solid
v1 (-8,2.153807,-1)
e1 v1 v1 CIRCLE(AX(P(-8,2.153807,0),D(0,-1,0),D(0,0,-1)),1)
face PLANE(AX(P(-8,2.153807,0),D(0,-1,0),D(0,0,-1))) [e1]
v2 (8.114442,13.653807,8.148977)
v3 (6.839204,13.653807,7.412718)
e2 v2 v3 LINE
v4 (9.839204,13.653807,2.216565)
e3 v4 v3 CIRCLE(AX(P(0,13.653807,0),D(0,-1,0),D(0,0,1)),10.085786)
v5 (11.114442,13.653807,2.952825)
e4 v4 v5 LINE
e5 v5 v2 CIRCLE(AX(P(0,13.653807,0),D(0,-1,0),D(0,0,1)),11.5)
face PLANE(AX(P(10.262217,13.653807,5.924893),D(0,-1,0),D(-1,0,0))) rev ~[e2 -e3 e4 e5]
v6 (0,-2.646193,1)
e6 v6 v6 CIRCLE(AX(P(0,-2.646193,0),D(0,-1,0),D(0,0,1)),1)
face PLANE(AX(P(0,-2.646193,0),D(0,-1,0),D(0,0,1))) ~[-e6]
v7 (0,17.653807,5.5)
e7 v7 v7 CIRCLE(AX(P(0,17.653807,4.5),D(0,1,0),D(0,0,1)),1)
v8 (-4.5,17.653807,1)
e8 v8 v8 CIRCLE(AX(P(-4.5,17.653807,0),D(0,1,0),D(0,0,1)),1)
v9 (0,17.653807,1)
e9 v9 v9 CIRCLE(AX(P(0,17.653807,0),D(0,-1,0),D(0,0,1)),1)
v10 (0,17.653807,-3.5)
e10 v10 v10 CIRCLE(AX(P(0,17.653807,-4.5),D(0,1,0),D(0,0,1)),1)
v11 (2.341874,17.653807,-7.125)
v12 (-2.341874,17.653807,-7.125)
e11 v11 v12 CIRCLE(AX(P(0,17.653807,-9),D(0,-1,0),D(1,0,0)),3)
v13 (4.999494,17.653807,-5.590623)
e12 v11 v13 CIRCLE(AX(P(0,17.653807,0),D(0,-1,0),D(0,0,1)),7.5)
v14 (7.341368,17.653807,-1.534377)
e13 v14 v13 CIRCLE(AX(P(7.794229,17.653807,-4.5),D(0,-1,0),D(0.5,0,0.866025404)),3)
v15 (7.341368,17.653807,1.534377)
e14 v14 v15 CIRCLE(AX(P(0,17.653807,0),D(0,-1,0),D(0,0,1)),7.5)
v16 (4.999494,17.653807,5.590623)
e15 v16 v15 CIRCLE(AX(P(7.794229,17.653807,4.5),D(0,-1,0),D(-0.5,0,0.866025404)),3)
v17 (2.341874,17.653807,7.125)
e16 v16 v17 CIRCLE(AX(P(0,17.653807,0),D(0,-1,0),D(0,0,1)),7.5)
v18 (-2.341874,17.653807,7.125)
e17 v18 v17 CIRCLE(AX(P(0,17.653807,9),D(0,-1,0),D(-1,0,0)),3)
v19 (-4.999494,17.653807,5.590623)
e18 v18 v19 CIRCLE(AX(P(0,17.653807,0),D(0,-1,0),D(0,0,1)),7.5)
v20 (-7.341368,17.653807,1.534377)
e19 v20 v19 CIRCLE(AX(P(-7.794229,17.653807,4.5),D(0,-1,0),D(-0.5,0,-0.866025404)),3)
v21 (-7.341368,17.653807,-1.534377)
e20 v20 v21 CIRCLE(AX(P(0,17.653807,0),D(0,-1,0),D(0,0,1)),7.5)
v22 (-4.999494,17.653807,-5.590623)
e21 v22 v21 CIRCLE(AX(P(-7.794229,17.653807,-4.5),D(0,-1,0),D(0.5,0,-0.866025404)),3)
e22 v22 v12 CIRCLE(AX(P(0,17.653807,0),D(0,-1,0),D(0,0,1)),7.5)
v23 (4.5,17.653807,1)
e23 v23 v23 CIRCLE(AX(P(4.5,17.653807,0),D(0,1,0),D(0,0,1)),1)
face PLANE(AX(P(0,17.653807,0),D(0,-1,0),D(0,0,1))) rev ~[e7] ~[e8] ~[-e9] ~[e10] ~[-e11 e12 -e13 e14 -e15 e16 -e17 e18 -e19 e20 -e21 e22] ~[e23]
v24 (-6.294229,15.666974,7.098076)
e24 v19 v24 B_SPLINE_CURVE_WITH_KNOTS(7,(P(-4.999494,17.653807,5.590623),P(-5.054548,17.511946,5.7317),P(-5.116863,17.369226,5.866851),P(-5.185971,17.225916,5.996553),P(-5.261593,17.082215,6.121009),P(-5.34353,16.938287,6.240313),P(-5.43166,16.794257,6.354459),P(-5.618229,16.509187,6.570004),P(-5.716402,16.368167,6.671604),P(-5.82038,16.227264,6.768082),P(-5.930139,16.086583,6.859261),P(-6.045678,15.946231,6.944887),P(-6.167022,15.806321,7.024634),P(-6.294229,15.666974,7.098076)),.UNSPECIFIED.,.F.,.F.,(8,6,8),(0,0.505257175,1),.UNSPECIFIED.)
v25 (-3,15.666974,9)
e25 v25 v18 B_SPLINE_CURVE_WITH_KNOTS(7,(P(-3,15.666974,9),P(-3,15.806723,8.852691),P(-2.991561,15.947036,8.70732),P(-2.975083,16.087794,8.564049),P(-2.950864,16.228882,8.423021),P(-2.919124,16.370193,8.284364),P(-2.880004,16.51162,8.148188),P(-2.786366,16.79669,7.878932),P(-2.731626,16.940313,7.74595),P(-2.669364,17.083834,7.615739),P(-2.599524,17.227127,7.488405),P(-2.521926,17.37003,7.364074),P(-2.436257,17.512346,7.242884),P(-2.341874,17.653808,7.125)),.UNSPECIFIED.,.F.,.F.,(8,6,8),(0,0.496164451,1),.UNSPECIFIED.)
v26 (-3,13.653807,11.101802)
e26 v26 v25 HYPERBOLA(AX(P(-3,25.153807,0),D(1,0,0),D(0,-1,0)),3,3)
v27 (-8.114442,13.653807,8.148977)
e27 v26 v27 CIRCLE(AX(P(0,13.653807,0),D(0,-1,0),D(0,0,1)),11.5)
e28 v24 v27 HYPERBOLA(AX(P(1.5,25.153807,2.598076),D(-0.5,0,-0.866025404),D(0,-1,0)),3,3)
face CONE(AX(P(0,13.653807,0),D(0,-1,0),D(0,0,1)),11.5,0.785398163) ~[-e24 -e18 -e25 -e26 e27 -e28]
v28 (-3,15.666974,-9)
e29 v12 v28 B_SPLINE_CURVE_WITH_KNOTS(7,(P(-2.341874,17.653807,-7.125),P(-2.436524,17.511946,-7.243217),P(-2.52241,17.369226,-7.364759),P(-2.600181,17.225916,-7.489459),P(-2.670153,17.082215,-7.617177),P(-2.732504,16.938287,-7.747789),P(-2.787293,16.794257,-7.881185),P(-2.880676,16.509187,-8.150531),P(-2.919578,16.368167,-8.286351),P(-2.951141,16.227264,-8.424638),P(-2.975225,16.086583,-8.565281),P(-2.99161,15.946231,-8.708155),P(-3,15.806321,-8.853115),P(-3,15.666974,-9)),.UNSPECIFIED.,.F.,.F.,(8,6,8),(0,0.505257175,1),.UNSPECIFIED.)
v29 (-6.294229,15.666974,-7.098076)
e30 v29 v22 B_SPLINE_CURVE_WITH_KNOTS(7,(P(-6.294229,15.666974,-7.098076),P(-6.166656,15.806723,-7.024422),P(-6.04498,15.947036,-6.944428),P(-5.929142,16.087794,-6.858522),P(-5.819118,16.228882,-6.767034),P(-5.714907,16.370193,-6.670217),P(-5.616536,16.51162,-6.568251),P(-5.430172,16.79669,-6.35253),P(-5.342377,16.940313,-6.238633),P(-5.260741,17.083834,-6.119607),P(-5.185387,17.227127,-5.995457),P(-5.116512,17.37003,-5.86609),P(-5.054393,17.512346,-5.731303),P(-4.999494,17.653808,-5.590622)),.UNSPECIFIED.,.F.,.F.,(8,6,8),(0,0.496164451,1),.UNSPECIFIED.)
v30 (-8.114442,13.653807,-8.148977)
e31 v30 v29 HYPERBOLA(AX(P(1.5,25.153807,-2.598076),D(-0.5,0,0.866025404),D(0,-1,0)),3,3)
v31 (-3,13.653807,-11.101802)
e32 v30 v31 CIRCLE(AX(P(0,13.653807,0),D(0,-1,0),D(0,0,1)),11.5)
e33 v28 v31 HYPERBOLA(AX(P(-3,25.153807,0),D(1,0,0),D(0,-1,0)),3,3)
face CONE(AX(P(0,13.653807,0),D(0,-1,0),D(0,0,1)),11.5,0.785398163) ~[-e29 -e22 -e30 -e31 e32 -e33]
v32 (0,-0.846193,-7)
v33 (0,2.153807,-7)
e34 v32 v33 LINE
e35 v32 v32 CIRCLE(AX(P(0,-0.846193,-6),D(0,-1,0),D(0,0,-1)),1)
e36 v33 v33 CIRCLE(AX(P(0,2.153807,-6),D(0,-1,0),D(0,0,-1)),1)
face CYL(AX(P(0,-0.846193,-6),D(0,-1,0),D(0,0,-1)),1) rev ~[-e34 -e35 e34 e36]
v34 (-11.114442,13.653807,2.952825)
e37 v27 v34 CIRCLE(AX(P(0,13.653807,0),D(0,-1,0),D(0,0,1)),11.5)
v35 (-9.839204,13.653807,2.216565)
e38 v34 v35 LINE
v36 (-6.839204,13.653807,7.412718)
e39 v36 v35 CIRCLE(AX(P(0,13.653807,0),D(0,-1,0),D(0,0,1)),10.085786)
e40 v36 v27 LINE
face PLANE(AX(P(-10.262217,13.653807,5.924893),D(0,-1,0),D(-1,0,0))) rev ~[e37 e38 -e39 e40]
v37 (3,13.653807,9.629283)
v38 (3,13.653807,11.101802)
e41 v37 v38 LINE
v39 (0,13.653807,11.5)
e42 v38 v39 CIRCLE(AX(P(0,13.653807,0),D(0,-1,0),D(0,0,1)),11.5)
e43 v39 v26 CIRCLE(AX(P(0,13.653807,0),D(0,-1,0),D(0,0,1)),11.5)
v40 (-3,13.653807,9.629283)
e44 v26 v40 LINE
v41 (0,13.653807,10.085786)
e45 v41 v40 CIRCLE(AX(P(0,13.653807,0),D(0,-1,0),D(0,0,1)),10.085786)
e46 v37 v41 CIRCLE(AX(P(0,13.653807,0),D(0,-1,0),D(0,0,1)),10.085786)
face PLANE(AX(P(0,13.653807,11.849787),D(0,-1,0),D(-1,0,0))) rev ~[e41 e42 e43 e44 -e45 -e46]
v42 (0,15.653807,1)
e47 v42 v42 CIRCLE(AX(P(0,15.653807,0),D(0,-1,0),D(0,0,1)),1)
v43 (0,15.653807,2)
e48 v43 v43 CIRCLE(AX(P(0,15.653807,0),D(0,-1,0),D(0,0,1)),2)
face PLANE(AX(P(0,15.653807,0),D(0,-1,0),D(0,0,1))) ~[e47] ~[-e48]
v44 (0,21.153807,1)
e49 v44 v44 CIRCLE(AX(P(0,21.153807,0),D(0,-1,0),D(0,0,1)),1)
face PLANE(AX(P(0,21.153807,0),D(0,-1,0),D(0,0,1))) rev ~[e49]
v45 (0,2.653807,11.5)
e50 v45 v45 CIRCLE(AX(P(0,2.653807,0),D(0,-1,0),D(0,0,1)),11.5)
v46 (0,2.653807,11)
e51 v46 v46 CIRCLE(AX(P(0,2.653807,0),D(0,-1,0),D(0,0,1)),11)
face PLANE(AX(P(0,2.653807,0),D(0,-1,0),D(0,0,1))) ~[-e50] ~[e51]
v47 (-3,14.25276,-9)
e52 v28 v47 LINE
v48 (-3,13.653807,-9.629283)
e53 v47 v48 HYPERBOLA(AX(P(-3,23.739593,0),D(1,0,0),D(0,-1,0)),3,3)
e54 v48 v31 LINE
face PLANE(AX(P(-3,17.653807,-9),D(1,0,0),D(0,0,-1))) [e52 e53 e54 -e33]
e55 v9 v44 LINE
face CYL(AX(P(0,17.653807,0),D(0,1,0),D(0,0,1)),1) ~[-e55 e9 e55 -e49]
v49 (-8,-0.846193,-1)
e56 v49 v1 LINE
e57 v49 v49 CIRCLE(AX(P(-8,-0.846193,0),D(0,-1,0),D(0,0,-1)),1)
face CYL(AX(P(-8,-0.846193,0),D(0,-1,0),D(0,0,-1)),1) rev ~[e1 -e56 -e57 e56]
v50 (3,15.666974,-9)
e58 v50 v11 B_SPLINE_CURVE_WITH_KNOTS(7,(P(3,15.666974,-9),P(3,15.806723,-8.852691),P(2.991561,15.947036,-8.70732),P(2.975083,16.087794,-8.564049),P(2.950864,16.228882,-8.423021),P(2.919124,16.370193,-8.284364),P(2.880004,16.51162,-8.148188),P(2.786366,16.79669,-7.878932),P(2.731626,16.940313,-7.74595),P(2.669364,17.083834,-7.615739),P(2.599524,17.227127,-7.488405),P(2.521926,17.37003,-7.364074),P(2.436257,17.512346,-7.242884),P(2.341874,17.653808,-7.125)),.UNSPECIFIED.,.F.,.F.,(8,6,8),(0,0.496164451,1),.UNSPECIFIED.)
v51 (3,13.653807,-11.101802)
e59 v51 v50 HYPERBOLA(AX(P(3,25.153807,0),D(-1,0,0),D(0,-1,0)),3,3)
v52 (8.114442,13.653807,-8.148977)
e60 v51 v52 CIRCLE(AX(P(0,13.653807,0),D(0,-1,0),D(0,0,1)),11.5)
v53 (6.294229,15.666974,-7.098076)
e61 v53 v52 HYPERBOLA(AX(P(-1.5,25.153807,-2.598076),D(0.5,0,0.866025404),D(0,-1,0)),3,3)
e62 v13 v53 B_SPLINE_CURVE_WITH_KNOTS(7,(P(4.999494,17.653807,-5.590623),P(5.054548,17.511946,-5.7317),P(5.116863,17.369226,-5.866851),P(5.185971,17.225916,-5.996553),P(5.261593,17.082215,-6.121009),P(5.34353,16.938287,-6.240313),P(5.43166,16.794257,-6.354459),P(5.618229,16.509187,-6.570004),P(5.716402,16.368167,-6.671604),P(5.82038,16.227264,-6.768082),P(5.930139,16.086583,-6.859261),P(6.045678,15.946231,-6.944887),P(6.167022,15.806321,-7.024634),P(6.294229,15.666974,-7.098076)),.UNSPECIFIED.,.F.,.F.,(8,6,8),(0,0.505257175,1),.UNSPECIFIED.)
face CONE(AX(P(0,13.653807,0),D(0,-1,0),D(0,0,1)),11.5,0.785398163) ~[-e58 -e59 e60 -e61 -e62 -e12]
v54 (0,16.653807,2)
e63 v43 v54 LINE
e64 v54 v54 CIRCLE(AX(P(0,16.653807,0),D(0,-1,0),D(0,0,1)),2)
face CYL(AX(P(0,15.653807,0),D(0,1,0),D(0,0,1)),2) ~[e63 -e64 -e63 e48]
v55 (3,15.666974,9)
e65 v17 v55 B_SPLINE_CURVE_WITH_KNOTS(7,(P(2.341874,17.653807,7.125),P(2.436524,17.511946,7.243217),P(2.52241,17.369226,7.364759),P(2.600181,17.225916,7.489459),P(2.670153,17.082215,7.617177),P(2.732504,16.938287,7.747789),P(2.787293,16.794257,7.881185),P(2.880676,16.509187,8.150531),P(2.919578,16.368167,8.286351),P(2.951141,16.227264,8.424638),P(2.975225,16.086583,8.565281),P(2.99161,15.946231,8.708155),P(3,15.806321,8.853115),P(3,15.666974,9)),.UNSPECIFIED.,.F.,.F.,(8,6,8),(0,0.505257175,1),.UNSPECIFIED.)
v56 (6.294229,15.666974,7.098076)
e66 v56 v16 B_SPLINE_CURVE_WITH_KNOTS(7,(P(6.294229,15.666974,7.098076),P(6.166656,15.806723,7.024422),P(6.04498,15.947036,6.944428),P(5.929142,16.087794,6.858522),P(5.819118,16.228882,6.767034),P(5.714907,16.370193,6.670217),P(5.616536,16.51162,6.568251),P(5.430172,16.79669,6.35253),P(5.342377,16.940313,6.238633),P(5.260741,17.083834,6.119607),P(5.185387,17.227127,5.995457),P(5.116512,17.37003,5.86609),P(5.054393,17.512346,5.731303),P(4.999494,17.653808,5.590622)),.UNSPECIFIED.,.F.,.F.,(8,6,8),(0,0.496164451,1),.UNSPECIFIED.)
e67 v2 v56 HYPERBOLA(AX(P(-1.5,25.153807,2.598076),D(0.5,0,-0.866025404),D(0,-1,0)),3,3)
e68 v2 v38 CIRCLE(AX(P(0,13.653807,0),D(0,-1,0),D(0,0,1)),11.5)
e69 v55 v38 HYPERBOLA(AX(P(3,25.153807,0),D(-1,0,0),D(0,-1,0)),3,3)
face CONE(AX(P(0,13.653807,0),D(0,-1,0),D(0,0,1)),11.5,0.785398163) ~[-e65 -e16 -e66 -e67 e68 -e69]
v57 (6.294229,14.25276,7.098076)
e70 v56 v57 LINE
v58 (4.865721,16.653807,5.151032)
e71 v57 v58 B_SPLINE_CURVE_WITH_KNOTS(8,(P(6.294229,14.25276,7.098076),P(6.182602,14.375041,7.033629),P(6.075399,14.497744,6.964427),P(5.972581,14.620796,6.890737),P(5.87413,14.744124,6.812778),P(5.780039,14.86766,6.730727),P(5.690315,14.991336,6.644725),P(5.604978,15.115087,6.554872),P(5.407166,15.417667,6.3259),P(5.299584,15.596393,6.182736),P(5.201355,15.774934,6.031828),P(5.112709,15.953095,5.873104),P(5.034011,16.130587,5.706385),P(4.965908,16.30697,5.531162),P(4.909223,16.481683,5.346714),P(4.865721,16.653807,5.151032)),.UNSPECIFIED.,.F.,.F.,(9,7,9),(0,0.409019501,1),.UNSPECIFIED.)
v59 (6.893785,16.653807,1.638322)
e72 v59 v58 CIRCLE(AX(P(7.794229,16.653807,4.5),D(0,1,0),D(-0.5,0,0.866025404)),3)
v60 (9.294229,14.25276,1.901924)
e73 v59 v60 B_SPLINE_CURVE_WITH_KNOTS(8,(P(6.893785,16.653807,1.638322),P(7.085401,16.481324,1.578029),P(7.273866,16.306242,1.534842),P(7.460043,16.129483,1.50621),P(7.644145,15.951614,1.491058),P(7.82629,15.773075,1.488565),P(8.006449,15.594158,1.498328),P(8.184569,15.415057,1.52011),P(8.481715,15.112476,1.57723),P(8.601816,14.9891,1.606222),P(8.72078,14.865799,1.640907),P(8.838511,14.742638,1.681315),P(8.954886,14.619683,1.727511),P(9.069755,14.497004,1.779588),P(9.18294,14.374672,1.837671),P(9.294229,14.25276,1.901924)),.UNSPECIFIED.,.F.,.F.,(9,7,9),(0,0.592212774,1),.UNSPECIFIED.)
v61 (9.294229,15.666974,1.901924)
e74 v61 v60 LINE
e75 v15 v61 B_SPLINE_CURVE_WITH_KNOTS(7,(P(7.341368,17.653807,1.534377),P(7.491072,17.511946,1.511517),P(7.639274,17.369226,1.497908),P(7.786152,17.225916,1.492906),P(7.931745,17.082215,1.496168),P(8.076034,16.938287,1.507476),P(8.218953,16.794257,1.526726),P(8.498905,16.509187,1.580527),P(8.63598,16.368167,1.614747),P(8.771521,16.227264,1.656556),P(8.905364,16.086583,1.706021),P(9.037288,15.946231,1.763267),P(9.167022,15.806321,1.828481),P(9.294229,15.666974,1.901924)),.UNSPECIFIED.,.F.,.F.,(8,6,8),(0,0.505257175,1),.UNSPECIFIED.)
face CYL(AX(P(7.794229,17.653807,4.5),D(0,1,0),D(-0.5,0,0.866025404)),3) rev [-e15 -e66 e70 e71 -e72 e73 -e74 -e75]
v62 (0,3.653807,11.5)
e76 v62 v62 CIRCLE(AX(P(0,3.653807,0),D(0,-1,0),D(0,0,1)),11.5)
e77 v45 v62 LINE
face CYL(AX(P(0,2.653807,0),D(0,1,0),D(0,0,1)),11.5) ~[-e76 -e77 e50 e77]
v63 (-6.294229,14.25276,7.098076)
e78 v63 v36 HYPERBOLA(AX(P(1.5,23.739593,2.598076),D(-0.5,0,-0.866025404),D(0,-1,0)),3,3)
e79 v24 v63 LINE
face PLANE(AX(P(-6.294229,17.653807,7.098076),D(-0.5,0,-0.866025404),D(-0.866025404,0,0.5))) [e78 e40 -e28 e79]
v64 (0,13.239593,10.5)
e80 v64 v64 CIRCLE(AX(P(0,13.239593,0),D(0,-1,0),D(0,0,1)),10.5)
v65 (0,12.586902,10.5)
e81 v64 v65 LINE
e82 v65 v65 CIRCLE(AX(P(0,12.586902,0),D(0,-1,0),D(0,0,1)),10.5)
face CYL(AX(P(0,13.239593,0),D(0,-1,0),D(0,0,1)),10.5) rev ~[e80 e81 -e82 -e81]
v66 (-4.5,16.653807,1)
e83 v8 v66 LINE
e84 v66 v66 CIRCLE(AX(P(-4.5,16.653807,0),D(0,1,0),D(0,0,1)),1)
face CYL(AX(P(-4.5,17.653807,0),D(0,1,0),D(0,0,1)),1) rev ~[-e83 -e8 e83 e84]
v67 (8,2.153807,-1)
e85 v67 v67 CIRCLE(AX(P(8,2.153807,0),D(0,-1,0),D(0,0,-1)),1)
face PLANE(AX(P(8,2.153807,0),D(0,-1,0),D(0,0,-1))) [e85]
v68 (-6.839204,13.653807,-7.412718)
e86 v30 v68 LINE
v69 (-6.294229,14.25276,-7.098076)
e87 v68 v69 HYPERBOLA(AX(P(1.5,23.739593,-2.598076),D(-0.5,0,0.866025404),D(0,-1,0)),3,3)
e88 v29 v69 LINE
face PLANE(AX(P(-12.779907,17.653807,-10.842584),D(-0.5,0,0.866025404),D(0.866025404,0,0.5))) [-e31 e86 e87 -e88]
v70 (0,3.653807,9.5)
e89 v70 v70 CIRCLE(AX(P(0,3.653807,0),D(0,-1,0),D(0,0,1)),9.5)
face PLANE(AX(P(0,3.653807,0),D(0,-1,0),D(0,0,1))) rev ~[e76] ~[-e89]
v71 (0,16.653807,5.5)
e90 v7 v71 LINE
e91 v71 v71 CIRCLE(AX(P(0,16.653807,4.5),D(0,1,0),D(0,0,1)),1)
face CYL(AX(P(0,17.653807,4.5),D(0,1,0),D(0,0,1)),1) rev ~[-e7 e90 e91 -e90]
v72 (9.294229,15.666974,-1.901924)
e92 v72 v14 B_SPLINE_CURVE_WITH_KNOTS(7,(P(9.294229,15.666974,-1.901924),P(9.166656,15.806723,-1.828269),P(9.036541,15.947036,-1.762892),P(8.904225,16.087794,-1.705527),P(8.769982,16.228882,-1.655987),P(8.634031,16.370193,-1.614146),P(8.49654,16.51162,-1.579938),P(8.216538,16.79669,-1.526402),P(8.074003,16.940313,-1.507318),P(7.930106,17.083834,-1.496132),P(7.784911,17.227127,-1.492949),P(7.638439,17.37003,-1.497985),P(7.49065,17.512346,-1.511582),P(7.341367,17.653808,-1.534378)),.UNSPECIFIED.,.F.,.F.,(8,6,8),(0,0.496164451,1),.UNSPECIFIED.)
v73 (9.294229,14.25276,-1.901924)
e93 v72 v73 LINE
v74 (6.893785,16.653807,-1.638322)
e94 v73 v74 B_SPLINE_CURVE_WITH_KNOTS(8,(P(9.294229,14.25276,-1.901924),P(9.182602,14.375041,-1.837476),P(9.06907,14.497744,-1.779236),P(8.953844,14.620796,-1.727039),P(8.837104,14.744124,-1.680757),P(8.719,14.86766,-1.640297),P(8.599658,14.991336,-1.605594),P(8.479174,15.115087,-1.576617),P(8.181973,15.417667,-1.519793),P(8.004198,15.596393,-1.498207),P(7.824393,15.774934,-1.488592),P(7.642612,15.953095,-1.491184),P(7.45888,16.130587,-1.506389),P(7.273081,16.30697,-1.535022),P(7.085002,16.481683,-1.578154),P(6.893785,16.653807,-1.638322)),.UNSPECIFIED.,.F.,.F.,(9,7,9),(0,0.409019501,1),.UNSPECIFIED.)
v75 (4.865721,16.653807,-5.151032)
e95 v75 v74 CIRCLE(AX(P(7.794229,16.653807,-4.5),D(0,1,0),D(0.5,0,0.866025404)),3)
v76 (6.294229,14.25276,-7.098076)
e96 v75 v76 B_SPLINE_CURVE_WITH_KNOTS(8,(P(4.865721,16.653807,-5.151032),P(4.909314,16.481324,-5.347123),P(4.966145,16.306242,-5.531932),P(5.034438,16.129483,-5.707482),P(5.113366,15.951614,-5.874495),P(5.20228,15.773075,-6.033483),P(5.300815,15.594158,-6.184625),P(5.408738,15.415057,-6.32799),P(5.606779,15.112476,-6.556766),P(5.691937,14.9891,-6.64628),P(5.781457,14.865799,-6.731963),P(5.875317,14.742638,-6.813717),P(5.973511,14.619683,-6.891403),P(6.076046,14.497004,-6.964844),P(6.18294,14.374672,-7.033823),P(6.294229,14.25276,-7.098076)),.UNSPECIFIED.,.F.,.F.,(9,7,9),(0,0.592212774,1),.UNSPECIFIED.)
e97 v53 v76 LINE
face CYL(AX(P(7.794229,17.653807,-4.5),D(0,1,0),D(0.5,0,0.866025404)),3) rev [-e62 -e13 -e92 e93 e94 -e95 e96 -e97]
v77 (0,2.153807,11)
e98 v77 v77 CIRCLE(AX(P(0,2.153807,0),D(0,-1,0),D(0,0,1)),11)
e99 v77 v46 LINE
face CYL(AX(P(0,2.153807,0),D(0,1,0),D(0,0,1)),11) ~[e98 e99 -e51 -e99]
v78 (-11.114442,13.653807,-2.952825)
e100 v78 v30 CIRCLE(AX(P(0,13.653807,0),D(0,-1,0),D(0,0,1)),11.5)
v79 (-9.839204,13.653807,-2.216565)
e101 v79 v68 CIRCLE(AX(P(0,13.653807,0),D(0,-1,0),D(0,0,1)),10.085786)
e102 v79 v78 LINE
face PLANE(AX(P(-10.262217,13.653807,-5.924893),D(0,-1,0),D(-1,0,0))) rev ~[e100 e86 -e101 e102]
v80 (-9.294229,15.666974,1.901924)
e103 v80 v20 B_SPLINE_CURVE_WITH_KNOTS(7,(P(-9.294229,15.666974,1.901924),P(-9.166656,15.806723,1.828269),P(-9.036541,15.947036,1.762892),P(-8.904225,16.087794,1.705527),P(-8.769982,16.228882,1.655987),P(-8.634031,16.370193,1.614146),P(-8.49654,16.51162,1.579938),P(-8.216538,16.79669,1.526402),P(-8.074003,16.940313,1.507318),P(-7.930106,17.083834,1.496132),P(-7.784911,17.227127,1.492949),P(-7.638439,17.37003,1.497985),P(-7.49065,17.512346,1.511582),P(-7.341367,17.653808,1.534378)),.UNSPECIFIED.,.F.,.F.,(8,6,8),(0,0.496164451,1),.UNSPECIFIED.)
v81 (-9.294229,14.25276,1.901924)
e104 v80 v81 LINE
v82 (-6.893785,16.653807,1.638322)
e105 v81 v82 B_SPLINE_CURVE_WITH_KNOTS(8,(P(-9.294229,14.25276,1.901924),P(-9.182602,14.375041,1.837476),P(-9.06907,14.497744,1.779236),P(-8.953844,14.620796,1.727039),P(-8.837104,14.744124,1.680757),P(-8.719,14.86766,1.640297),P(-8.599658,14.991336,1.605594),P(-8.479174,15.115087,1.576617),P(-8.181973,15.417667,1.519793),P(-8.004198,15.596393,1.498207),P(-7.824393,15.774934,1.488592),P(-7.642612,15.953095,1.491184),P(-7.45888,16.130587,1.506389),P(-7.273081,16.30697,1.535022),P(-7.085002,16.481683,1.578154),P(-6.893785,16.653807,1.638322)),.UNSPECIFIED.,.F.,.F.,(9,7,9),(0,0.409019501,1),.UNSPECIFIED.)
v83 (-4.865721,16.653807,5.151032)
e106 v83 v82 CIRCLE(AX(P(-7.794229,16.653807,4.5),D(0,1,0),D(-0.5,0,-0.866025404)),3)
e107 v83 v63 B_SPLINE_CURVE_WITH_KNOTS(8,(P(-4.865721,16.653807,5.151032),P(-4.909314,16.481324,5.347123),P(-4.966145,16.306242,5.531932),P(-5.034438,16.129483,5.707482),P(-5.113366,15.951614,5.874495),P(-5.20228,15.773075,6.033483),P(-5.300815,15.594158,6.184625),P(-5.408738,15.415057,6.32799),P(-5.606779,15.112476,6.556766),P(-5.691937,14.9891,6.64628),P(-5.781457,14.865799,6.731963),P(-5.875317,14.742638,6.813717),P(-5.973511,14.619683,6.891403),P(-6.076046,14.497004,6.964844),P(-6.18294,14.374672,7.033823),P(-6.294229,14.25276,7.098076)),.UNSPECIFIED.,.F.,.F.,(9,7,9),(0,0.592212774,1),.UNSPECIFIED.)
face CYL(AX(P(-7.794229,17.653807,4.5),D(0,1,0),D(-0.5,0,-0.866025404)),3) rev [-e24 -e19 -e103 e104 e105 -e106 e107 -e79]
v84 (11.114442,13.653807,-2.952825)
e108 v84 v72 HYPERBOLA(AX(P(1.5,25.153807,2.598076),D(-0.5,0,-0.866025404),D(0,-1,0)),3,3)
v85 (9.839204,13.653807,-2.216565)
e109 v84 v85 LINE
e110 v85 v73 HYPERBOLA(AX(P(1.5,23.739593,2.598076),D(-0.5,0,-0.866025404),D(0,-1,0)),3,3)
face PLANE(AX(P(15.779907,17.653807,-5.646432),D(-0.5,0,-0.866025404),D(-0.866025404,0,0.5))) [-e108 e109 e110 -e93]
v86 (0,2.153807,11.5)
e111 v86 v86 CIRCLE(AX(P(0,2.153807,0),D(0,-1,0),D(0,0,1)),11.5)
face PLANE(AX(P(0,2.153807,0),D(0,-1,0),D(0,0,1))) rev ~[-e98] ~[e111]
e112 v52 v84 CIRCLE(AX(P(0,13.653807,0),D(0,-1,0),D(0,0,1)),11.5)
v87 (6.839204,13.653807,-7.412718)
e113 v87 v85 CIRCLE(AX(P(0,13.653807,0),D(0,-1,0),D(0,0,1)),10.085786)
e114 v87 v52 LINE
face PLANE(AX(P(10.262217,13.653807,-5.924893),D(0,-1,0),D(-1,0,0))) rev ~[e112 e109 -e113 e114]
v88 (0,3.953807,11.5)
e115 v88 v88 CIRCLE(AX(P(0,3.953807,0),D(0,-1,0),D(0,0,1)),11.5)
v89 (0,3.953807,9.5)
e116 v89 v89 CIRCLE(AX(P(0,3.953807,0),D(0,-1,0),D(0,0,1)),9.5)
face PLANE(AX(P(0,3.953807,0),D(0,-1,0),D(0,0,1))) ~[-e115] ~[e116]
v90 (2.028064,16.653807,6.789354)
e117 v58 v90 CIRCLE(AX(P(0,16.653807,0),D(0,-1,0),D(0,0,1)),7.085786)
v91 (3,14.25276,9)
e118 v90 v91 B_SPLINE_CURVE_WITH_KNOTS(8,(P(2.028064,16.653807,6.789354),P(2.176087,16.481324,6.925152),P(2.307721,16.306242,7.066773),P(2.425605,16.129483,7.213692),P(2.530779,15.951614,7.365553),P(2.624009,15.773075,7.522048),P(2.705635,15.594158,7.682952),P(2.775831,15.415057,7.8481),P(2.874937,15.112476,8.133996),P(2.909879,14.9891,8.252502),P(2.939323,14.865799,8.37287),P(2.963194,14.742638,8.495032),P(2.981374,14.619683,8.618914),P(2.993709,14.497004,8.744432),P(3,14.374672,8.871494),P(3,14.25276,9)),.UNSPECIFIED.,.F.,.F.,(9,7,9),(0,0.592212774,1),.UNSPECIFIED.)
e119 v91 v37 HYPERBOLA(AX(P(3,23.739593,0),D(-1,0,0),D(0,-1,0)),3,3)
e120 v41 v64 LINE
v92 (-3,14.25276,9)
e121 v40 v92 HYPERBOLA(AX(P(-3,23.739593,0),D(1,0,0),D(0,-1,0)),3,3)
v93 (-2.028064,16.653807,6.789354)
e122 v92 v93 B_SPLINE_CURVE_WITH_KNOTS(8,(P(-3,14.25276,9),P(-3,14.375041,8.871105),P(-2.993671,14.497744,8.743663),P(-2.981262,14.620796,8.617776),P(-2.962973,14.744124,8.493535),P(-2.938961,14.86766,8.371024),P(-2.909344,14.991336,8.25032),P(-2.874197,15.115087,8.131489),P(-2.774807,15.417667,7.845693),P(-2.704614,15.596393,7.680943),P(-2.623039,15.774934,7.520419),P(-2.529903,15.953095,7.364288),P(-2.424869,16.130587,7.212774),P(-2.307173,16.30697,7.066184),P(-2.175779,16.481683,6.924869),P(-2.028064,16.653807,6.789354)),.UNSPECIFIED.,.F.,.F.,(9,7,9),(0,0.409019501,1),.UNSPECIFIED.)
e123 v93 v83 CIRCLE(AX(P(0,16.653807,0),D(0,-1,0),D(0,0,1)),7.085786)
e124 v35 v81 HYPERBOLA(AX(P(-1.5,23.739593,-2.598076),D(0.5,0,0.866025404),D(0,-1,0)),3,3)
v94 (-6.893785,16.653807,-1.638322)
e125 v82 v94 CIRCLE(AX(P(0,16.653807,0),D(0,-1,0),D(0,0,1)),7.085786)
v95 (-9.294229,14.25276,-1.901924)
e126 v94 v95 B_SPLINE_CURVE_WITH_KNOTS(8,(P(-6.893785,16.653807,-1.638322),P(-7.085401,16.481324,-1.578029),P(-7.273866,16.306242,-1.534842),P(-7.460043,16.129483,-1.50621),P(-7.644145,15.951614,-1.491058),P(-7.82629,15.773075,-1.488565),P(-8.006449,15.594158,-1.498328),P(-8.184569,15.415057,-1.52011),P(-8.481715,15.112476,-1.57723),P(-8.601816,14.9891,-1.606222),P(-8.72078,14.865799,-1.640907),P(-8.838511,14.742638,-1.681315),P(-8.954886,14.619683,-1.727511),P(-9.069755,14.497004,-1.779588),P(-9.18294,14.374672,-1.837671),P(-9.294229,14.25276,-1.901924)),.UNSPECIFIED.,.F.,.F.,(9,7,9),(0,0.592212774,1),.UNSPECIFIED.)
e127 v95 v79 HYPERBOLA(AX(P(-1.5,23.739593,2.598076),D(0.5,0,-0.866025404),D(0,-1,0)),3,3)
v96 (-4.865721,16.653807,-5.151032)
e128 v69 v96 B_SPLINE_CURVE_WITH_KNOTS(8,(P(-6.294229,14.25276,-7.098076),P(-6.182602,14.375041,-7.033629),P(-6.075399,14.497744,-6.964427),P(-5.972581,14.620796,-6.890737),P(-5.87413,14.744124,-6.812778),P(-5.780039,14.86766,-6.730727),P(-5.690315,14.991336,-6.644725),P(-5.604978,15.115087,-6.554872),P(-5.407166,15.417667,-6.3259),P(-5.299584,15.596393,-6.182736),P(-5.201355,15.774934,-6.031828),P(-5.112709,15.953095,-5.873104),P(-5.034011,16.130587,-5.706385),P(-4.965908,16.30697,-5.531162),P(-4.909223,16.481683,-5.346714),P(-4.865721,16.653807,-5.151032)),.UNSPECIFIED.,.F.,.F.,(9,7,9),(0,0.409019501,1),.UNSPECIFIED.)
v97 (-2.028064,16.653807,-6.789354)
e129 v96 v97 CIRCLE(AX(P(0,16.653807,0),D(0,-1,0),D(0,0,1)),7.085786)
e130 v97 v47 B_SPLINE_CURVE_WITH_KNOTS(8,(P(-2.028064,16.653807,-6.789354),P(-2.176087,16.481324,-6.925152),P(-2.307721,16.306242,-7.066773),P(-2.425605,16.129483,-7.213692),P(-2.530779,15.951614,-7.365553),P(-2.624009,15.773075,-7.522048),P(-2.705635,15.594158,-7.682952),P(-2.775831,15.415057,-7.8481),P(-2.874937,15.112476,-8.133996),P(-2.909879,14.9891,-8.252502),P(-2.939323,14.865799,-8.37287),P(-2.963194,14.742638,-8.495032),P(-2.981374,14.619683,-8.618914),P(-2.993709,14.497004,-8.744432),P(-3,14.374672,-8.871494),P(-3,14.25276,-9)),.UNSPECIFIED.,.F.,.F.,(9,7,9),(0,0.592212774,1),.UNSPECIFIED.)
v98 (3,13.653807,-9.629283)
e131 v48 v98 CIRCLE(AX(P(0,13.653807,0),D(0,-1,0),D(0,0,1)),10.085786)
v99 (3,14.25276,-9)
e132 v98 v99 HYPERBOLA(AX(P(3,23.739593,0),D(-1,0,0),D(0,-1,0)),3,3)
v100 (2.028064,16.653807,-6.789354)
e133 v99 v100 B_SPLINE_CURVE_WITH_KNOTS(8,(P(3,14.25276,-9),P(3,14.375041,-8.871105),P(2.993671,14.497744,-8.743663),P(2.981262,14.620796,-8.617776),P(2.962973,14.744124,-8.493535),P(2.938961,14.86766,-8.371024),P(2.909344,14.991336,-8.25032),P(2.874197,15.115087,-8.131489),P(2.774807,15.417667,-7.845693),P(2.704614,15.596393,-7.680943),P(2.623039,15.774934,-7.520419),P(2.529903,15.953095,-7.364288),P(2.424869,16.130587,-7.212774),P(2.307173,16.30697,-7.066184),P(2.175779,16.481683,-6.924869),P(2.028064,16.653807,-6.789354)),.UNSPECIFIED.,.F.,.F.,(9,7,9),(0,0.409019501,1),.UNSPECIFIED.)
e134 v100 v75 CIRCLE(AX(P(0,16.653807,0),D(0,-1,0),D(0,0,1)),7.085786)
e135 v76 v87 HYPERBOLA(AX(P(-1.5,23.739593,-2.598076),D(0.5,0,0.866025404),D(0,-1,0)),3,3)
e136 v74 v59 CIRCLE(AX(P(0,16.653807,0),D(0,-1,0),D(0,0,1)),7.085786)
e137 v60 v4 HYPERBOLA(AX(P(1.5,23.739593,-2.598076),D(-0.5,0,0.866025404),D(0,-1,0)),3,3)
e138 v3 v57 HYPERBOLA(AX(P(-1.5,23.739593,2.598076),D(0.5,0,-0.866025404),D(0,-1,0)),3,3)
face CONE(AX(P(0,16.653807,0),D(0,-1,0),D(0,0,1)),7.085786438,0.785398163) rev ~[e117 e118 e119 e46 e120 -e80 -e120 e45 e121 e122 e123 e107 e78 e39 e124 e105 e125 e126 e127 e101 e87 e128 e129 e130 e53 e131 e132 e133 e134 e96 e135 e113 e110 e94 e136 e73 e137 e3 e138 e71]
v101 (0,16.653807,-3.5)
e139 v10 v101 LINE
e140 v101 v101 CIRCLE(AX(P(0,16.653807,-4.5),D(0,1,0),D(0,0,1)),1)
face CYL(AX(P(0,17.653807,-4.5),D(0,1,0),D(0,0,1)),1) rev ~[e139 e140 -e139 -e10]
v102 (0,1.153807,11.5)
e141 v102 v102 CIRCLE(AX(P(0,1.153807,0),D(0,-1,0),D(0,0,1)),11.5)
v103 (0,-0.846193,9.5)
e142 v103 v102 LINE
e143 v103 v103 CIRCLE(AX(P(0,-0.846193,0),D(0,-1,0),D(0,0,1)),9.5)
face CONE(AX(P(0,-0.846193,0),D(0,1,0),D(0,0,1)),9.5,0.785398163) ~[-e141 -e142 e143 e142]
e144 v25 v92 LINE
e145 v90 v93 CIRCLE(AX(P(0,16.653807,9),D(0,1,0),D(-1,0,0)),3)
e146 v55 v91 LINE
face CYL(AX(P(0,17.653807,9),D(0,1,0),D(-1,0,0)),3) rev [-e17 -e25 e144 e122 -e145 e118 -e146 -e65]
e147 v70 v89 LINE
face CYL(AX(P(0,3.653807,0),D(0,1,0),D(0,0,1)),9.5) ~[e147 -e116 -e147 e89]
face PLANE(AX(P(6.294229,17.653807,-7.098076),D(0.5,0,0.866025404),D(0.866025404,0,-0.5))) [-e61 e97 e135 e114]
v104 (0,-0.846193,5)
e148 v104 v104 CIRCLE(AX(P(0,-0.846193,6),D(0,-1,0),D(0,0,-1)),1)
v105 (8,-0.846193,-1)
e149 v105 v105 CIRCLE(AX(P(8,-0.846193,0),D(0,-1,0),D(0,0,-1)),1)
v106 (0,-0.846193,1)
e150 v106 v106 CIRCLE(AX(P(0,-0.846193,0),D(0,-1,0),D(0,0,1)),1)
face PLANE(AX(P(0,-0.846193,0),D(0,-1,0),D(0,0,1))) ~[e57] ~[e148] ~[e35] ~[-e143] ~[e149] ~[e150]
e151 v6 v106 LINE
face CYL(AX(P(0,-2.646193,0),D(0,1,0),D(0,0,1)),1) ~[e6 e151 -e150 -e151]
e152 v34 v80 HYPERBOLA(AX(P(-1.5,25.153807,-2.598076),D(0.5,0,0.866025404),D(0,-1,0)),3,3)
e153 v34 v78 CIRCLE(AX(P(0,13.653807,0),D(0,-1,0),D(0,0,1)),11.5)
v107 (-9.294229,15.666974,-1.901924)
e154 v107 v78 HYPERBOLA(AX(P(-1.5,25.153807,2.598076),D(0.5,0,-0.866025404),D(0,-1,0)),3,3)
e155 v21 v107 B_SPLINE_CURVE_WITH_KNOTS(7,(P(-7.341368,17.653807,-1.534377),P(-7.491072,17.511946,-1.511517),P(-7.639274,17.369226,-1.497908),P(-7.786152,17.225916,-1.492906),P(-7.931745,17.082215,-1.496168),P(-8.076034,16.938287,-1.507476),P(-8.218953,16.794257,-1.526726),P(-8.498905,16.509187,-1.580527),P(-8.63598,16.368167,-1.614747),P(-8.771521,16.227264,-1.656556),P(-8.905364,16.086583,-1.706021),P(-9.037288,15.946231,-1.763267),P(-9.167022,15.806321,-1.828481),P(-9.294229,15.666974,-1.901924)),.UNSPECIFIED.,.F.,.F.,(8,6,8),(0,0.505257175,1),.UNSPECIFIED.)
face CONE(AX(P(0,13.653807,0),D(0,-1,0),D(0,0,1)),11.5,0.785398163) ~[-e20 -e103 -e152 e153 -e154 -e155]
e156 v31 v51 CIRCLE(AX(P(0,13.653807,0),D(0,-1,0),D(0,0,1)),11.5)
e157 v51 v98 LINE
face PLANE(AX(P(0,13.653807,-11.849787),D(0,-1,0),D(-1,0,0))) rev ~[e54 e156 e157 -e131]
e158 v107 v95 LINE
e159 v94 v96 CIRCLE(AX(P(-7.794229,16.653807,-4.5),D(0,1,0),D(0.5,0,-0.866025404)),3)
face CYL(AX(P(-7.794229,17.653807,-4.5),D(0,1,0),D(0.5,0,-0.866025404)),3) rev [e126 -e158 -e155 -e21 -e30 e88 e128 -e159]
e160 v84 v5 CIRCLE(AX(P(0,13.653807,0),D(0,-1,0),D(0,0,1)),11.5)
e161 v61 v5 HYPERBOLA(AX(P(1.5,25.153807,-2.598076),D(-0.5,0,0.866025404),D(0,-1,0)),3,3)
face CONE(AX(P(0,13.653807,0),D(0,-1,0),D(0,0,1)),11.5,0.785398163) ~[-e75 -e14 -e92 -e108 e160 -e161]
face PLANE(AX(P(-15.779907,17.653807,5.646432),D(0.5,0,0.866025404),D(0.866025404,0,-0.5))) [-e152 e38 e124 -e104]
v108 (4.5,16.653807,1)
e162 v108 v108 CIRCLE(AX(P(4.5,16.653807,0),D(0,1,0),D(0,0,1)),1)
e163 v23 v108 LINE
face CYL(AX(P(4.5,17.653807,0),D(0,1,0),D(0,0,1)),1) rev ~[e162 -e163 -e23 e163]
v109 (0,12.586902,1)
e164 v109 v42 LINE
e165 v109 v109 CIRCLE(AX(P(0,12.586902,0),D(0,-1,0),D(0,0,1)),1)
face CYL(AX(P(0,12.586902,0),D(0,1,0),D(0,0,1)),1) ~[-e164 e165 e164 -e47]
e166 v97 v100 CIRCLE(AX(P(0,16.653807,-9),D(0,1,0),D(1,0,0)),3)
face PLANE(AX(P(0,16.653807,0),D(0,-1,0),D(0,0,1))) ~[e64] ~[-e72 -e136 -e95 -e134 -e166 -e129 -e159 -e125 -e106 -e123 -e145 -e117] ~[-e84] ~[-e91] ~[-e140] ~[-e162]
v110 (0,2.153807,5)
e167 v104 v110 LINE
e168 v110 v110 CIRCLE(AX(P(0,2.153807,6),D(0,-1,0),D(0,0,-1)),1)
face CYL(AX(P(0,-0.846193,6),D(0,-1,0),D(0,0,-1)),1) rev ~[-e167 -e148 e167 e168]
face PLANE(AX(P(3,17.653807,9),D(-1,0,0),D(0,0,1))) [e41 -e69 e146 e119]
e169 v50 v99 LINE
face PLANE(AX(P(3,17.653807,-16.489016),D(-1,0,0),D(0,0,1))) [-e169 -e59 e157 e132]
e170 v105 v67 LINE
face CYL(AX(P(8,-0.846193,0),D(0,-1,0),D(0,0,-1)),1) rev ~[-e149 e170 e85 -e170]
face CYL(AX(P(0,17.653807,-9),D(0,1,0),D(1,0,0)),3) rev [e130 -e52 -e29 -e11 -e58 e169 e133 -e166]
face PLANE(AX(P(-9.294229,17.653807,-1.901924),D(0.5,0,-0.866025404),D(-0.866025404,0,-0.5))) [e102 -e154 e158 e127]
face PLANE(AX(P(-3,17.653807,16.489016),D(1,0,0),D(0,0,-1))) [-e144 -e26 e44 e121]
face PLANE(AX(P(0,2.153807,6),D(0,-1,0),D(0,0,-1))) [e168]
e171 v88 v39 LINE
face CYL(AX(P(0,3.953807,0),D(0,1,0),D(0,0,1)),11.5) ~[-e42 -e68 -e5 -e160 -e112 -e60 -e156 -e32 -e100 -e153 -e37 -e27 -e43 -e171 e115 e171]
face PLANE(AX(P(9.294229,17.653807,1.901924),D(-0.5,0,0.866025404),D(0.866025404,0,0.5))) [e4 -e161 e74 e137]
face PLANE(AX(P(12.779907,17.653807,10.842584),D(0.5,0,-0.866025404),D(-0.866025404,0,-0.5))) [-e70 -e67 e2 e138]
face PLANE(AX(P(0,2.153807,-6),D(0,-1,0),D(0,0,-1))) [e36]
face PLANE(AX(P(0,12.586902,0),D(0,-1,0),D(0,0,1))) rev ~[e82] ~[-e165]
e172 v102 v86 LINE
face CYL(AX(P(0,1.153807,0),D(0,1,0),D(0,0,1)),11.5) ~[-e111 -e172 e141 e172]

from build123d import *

# Parameters (mm, degrees)
SKETCH2_R          = 1
CUT_EXTRUDE1_DEPTH = 4
SKETCH3_R          = 1
CUT_EXTRUDE2_DEPTH = 3


with BuildPart() as part:
    # Sketch1 → Revolve1 (revolve)
    with BuildSketch(Plane.XY, mode=Mode.PRIVATE) as revolve1_sk:
        Polygon((0, 21.153806929), (0, 0), (0, -2.646193071), (1, -2.646193071), (1, -0.846193071), (9.5, -0.846193071), (11.5, 1.153806929), (11.5, 2.153806929), (11, 2.153806929), (11, 2.653806929), (11.5, 2.653806929), (11.5, 3.653806929), (9.5, 3.653806929), (9.5, 3.953806929), (11.5, 3.953806929), (11.5, 13.653806929), (7.5, 17.653806929), (1, 17.653806929), (1, 21.153806929), align=None)
        Polygon((2, 16.653806929), (7.085786438, 16.653806929), (10.5, 13.239593367), (10.5, 12.586902367), (1, 12.586902367), (1, 15.653806929), (2, 15.653806929), align=None, mode=Mode.SUBTRACT)
    revolve(revolve1_sk.sketch.rotate(Axis((0, 21.153806929, 0), (0, -1, 0)), 90), axis=Axis((0, 21.153806929, 0), (0, -1, 0)))

    # Sketch2 → Cut-Extrude1 (cut)
    with BuildSketch(Plane(origin=(0, 17.653806929, 0), x_dir=(1, 0, 0), z_dir=(0, 1, 0))):
        with Locations(Location((0, -4.5, 0), (0, 0, 270))):
            Circle(SKETCH2_R)
        with Locations(Location((-4.5, 0, 0), (0, 0, 270))):
            Circle(SKETCH2_R)
        with Locations(Location((0, 4.5, 0), (0, 0, 270))):
            Circle(SKETCH2_R)
        with Locations(Location((4.5, 0, 0), (0, 0, 270))):
            Circle(SKETCH2_R)
        with BuildLine():
            Line((-3, 9), (-3, 16.489016336))
            Line((-3, 16.489016336), (3, 16.489016336))
            Line((3, 16.489016336), (3, 9))
            ThreePointArc((3, 9), (0, 6), (-3, 9))
        make_face()
        with BuildLine():
            Line((15.779907031, 5.646431957), (9.294228634, 1.901923789))
            ThreePointArc((9.294228634, 1.901923789), (5.196152423, 3), (6.294228634, 7.098076211))
            Line((6.294228634, 7.098076211), (12.779907031, 10.842584379))
            Line((12.779907031, 10.842584379), (15.779907031, 5.646431957))
        make_face()
        with BuildLine():
            Line((12.779907031, -10.842584379), (6.294228634, -7.098076211))
            ThreePointArc((6.294228634, -7.098076211), (5.196152423, -3), (9.294228634, -1.901923789))
            Line((9.294228634, -1.901923789), (15.779907031, -5.646431957))
            Line((15.779907031, -5.646431957), (12.779907031, -10.842584379))
        make_face()
        with BuildLine():
            Line((-3, -16.489016336), (-3, -9))
            ThreePointArc((-3, -9), (0, -6), (3, -9))
            Line((3, -9), (3, -16.489016336))
            Line((3, -16.489016336), (-3, -16.489016336))
        make_face()
        with BuildLine():
            Line((-15.779907031, -5.646431957), (-9.294228634, -1.901923789))
            ThreePointArc((-9.294228634, -1.901923789), (-5.196152423, -3), (-6.294228634, -7.098076211))
            Line((-6.294228634, -7.098076211), (-12.779907031, -10.842584379))
            Line((-12.779907031, -10.842584379), (-15.779907031, -5.646431957))
        make_face()
        with BuildLine():
            Line((-12.779907031, 10.842584379), (-6.294228634, 7.098076211))
            ThreePointArc((-6.294228634, 7.098076211), (-5.196152423, 3), (-9.294228634, 1.901923789))
            Line((-9.294228634, 1.901923789), (-15.779907031, 5.646431957))
            Line((-15.779907031, 5.646431957), (-12.779907031, 10.842584379))
        make_face()
    extrude(amount=-CUT_EXTRUDE1_DEPTH, mode=Mode.SUBTRACT)

    # Sketch3 → Cut-Extrude2 (cut)
    with BuildSketch(Plane.XZ.offset(0.846193071)):
        with Locations(Location((0, 6, 0), (0, 0, 270))):
            Circle(SKETCH3_R)
        with Locations(Location((0, -6, 0), (0, 0, 270))):
            Circle(SKETCH3_R)
        with Locations(Location((-8, 0, 0), (0, 0, 270))):
            Circle(SKETCH3_R)
        with Locations(Location((8, 0, 0), (0, 0, 270))):
            Circle(SKETCH3_R)
    extrude(amount=-CUT_EXTRUDE2_DEPTH, mode=Mode.SUBTRACT)


solid = part.part
